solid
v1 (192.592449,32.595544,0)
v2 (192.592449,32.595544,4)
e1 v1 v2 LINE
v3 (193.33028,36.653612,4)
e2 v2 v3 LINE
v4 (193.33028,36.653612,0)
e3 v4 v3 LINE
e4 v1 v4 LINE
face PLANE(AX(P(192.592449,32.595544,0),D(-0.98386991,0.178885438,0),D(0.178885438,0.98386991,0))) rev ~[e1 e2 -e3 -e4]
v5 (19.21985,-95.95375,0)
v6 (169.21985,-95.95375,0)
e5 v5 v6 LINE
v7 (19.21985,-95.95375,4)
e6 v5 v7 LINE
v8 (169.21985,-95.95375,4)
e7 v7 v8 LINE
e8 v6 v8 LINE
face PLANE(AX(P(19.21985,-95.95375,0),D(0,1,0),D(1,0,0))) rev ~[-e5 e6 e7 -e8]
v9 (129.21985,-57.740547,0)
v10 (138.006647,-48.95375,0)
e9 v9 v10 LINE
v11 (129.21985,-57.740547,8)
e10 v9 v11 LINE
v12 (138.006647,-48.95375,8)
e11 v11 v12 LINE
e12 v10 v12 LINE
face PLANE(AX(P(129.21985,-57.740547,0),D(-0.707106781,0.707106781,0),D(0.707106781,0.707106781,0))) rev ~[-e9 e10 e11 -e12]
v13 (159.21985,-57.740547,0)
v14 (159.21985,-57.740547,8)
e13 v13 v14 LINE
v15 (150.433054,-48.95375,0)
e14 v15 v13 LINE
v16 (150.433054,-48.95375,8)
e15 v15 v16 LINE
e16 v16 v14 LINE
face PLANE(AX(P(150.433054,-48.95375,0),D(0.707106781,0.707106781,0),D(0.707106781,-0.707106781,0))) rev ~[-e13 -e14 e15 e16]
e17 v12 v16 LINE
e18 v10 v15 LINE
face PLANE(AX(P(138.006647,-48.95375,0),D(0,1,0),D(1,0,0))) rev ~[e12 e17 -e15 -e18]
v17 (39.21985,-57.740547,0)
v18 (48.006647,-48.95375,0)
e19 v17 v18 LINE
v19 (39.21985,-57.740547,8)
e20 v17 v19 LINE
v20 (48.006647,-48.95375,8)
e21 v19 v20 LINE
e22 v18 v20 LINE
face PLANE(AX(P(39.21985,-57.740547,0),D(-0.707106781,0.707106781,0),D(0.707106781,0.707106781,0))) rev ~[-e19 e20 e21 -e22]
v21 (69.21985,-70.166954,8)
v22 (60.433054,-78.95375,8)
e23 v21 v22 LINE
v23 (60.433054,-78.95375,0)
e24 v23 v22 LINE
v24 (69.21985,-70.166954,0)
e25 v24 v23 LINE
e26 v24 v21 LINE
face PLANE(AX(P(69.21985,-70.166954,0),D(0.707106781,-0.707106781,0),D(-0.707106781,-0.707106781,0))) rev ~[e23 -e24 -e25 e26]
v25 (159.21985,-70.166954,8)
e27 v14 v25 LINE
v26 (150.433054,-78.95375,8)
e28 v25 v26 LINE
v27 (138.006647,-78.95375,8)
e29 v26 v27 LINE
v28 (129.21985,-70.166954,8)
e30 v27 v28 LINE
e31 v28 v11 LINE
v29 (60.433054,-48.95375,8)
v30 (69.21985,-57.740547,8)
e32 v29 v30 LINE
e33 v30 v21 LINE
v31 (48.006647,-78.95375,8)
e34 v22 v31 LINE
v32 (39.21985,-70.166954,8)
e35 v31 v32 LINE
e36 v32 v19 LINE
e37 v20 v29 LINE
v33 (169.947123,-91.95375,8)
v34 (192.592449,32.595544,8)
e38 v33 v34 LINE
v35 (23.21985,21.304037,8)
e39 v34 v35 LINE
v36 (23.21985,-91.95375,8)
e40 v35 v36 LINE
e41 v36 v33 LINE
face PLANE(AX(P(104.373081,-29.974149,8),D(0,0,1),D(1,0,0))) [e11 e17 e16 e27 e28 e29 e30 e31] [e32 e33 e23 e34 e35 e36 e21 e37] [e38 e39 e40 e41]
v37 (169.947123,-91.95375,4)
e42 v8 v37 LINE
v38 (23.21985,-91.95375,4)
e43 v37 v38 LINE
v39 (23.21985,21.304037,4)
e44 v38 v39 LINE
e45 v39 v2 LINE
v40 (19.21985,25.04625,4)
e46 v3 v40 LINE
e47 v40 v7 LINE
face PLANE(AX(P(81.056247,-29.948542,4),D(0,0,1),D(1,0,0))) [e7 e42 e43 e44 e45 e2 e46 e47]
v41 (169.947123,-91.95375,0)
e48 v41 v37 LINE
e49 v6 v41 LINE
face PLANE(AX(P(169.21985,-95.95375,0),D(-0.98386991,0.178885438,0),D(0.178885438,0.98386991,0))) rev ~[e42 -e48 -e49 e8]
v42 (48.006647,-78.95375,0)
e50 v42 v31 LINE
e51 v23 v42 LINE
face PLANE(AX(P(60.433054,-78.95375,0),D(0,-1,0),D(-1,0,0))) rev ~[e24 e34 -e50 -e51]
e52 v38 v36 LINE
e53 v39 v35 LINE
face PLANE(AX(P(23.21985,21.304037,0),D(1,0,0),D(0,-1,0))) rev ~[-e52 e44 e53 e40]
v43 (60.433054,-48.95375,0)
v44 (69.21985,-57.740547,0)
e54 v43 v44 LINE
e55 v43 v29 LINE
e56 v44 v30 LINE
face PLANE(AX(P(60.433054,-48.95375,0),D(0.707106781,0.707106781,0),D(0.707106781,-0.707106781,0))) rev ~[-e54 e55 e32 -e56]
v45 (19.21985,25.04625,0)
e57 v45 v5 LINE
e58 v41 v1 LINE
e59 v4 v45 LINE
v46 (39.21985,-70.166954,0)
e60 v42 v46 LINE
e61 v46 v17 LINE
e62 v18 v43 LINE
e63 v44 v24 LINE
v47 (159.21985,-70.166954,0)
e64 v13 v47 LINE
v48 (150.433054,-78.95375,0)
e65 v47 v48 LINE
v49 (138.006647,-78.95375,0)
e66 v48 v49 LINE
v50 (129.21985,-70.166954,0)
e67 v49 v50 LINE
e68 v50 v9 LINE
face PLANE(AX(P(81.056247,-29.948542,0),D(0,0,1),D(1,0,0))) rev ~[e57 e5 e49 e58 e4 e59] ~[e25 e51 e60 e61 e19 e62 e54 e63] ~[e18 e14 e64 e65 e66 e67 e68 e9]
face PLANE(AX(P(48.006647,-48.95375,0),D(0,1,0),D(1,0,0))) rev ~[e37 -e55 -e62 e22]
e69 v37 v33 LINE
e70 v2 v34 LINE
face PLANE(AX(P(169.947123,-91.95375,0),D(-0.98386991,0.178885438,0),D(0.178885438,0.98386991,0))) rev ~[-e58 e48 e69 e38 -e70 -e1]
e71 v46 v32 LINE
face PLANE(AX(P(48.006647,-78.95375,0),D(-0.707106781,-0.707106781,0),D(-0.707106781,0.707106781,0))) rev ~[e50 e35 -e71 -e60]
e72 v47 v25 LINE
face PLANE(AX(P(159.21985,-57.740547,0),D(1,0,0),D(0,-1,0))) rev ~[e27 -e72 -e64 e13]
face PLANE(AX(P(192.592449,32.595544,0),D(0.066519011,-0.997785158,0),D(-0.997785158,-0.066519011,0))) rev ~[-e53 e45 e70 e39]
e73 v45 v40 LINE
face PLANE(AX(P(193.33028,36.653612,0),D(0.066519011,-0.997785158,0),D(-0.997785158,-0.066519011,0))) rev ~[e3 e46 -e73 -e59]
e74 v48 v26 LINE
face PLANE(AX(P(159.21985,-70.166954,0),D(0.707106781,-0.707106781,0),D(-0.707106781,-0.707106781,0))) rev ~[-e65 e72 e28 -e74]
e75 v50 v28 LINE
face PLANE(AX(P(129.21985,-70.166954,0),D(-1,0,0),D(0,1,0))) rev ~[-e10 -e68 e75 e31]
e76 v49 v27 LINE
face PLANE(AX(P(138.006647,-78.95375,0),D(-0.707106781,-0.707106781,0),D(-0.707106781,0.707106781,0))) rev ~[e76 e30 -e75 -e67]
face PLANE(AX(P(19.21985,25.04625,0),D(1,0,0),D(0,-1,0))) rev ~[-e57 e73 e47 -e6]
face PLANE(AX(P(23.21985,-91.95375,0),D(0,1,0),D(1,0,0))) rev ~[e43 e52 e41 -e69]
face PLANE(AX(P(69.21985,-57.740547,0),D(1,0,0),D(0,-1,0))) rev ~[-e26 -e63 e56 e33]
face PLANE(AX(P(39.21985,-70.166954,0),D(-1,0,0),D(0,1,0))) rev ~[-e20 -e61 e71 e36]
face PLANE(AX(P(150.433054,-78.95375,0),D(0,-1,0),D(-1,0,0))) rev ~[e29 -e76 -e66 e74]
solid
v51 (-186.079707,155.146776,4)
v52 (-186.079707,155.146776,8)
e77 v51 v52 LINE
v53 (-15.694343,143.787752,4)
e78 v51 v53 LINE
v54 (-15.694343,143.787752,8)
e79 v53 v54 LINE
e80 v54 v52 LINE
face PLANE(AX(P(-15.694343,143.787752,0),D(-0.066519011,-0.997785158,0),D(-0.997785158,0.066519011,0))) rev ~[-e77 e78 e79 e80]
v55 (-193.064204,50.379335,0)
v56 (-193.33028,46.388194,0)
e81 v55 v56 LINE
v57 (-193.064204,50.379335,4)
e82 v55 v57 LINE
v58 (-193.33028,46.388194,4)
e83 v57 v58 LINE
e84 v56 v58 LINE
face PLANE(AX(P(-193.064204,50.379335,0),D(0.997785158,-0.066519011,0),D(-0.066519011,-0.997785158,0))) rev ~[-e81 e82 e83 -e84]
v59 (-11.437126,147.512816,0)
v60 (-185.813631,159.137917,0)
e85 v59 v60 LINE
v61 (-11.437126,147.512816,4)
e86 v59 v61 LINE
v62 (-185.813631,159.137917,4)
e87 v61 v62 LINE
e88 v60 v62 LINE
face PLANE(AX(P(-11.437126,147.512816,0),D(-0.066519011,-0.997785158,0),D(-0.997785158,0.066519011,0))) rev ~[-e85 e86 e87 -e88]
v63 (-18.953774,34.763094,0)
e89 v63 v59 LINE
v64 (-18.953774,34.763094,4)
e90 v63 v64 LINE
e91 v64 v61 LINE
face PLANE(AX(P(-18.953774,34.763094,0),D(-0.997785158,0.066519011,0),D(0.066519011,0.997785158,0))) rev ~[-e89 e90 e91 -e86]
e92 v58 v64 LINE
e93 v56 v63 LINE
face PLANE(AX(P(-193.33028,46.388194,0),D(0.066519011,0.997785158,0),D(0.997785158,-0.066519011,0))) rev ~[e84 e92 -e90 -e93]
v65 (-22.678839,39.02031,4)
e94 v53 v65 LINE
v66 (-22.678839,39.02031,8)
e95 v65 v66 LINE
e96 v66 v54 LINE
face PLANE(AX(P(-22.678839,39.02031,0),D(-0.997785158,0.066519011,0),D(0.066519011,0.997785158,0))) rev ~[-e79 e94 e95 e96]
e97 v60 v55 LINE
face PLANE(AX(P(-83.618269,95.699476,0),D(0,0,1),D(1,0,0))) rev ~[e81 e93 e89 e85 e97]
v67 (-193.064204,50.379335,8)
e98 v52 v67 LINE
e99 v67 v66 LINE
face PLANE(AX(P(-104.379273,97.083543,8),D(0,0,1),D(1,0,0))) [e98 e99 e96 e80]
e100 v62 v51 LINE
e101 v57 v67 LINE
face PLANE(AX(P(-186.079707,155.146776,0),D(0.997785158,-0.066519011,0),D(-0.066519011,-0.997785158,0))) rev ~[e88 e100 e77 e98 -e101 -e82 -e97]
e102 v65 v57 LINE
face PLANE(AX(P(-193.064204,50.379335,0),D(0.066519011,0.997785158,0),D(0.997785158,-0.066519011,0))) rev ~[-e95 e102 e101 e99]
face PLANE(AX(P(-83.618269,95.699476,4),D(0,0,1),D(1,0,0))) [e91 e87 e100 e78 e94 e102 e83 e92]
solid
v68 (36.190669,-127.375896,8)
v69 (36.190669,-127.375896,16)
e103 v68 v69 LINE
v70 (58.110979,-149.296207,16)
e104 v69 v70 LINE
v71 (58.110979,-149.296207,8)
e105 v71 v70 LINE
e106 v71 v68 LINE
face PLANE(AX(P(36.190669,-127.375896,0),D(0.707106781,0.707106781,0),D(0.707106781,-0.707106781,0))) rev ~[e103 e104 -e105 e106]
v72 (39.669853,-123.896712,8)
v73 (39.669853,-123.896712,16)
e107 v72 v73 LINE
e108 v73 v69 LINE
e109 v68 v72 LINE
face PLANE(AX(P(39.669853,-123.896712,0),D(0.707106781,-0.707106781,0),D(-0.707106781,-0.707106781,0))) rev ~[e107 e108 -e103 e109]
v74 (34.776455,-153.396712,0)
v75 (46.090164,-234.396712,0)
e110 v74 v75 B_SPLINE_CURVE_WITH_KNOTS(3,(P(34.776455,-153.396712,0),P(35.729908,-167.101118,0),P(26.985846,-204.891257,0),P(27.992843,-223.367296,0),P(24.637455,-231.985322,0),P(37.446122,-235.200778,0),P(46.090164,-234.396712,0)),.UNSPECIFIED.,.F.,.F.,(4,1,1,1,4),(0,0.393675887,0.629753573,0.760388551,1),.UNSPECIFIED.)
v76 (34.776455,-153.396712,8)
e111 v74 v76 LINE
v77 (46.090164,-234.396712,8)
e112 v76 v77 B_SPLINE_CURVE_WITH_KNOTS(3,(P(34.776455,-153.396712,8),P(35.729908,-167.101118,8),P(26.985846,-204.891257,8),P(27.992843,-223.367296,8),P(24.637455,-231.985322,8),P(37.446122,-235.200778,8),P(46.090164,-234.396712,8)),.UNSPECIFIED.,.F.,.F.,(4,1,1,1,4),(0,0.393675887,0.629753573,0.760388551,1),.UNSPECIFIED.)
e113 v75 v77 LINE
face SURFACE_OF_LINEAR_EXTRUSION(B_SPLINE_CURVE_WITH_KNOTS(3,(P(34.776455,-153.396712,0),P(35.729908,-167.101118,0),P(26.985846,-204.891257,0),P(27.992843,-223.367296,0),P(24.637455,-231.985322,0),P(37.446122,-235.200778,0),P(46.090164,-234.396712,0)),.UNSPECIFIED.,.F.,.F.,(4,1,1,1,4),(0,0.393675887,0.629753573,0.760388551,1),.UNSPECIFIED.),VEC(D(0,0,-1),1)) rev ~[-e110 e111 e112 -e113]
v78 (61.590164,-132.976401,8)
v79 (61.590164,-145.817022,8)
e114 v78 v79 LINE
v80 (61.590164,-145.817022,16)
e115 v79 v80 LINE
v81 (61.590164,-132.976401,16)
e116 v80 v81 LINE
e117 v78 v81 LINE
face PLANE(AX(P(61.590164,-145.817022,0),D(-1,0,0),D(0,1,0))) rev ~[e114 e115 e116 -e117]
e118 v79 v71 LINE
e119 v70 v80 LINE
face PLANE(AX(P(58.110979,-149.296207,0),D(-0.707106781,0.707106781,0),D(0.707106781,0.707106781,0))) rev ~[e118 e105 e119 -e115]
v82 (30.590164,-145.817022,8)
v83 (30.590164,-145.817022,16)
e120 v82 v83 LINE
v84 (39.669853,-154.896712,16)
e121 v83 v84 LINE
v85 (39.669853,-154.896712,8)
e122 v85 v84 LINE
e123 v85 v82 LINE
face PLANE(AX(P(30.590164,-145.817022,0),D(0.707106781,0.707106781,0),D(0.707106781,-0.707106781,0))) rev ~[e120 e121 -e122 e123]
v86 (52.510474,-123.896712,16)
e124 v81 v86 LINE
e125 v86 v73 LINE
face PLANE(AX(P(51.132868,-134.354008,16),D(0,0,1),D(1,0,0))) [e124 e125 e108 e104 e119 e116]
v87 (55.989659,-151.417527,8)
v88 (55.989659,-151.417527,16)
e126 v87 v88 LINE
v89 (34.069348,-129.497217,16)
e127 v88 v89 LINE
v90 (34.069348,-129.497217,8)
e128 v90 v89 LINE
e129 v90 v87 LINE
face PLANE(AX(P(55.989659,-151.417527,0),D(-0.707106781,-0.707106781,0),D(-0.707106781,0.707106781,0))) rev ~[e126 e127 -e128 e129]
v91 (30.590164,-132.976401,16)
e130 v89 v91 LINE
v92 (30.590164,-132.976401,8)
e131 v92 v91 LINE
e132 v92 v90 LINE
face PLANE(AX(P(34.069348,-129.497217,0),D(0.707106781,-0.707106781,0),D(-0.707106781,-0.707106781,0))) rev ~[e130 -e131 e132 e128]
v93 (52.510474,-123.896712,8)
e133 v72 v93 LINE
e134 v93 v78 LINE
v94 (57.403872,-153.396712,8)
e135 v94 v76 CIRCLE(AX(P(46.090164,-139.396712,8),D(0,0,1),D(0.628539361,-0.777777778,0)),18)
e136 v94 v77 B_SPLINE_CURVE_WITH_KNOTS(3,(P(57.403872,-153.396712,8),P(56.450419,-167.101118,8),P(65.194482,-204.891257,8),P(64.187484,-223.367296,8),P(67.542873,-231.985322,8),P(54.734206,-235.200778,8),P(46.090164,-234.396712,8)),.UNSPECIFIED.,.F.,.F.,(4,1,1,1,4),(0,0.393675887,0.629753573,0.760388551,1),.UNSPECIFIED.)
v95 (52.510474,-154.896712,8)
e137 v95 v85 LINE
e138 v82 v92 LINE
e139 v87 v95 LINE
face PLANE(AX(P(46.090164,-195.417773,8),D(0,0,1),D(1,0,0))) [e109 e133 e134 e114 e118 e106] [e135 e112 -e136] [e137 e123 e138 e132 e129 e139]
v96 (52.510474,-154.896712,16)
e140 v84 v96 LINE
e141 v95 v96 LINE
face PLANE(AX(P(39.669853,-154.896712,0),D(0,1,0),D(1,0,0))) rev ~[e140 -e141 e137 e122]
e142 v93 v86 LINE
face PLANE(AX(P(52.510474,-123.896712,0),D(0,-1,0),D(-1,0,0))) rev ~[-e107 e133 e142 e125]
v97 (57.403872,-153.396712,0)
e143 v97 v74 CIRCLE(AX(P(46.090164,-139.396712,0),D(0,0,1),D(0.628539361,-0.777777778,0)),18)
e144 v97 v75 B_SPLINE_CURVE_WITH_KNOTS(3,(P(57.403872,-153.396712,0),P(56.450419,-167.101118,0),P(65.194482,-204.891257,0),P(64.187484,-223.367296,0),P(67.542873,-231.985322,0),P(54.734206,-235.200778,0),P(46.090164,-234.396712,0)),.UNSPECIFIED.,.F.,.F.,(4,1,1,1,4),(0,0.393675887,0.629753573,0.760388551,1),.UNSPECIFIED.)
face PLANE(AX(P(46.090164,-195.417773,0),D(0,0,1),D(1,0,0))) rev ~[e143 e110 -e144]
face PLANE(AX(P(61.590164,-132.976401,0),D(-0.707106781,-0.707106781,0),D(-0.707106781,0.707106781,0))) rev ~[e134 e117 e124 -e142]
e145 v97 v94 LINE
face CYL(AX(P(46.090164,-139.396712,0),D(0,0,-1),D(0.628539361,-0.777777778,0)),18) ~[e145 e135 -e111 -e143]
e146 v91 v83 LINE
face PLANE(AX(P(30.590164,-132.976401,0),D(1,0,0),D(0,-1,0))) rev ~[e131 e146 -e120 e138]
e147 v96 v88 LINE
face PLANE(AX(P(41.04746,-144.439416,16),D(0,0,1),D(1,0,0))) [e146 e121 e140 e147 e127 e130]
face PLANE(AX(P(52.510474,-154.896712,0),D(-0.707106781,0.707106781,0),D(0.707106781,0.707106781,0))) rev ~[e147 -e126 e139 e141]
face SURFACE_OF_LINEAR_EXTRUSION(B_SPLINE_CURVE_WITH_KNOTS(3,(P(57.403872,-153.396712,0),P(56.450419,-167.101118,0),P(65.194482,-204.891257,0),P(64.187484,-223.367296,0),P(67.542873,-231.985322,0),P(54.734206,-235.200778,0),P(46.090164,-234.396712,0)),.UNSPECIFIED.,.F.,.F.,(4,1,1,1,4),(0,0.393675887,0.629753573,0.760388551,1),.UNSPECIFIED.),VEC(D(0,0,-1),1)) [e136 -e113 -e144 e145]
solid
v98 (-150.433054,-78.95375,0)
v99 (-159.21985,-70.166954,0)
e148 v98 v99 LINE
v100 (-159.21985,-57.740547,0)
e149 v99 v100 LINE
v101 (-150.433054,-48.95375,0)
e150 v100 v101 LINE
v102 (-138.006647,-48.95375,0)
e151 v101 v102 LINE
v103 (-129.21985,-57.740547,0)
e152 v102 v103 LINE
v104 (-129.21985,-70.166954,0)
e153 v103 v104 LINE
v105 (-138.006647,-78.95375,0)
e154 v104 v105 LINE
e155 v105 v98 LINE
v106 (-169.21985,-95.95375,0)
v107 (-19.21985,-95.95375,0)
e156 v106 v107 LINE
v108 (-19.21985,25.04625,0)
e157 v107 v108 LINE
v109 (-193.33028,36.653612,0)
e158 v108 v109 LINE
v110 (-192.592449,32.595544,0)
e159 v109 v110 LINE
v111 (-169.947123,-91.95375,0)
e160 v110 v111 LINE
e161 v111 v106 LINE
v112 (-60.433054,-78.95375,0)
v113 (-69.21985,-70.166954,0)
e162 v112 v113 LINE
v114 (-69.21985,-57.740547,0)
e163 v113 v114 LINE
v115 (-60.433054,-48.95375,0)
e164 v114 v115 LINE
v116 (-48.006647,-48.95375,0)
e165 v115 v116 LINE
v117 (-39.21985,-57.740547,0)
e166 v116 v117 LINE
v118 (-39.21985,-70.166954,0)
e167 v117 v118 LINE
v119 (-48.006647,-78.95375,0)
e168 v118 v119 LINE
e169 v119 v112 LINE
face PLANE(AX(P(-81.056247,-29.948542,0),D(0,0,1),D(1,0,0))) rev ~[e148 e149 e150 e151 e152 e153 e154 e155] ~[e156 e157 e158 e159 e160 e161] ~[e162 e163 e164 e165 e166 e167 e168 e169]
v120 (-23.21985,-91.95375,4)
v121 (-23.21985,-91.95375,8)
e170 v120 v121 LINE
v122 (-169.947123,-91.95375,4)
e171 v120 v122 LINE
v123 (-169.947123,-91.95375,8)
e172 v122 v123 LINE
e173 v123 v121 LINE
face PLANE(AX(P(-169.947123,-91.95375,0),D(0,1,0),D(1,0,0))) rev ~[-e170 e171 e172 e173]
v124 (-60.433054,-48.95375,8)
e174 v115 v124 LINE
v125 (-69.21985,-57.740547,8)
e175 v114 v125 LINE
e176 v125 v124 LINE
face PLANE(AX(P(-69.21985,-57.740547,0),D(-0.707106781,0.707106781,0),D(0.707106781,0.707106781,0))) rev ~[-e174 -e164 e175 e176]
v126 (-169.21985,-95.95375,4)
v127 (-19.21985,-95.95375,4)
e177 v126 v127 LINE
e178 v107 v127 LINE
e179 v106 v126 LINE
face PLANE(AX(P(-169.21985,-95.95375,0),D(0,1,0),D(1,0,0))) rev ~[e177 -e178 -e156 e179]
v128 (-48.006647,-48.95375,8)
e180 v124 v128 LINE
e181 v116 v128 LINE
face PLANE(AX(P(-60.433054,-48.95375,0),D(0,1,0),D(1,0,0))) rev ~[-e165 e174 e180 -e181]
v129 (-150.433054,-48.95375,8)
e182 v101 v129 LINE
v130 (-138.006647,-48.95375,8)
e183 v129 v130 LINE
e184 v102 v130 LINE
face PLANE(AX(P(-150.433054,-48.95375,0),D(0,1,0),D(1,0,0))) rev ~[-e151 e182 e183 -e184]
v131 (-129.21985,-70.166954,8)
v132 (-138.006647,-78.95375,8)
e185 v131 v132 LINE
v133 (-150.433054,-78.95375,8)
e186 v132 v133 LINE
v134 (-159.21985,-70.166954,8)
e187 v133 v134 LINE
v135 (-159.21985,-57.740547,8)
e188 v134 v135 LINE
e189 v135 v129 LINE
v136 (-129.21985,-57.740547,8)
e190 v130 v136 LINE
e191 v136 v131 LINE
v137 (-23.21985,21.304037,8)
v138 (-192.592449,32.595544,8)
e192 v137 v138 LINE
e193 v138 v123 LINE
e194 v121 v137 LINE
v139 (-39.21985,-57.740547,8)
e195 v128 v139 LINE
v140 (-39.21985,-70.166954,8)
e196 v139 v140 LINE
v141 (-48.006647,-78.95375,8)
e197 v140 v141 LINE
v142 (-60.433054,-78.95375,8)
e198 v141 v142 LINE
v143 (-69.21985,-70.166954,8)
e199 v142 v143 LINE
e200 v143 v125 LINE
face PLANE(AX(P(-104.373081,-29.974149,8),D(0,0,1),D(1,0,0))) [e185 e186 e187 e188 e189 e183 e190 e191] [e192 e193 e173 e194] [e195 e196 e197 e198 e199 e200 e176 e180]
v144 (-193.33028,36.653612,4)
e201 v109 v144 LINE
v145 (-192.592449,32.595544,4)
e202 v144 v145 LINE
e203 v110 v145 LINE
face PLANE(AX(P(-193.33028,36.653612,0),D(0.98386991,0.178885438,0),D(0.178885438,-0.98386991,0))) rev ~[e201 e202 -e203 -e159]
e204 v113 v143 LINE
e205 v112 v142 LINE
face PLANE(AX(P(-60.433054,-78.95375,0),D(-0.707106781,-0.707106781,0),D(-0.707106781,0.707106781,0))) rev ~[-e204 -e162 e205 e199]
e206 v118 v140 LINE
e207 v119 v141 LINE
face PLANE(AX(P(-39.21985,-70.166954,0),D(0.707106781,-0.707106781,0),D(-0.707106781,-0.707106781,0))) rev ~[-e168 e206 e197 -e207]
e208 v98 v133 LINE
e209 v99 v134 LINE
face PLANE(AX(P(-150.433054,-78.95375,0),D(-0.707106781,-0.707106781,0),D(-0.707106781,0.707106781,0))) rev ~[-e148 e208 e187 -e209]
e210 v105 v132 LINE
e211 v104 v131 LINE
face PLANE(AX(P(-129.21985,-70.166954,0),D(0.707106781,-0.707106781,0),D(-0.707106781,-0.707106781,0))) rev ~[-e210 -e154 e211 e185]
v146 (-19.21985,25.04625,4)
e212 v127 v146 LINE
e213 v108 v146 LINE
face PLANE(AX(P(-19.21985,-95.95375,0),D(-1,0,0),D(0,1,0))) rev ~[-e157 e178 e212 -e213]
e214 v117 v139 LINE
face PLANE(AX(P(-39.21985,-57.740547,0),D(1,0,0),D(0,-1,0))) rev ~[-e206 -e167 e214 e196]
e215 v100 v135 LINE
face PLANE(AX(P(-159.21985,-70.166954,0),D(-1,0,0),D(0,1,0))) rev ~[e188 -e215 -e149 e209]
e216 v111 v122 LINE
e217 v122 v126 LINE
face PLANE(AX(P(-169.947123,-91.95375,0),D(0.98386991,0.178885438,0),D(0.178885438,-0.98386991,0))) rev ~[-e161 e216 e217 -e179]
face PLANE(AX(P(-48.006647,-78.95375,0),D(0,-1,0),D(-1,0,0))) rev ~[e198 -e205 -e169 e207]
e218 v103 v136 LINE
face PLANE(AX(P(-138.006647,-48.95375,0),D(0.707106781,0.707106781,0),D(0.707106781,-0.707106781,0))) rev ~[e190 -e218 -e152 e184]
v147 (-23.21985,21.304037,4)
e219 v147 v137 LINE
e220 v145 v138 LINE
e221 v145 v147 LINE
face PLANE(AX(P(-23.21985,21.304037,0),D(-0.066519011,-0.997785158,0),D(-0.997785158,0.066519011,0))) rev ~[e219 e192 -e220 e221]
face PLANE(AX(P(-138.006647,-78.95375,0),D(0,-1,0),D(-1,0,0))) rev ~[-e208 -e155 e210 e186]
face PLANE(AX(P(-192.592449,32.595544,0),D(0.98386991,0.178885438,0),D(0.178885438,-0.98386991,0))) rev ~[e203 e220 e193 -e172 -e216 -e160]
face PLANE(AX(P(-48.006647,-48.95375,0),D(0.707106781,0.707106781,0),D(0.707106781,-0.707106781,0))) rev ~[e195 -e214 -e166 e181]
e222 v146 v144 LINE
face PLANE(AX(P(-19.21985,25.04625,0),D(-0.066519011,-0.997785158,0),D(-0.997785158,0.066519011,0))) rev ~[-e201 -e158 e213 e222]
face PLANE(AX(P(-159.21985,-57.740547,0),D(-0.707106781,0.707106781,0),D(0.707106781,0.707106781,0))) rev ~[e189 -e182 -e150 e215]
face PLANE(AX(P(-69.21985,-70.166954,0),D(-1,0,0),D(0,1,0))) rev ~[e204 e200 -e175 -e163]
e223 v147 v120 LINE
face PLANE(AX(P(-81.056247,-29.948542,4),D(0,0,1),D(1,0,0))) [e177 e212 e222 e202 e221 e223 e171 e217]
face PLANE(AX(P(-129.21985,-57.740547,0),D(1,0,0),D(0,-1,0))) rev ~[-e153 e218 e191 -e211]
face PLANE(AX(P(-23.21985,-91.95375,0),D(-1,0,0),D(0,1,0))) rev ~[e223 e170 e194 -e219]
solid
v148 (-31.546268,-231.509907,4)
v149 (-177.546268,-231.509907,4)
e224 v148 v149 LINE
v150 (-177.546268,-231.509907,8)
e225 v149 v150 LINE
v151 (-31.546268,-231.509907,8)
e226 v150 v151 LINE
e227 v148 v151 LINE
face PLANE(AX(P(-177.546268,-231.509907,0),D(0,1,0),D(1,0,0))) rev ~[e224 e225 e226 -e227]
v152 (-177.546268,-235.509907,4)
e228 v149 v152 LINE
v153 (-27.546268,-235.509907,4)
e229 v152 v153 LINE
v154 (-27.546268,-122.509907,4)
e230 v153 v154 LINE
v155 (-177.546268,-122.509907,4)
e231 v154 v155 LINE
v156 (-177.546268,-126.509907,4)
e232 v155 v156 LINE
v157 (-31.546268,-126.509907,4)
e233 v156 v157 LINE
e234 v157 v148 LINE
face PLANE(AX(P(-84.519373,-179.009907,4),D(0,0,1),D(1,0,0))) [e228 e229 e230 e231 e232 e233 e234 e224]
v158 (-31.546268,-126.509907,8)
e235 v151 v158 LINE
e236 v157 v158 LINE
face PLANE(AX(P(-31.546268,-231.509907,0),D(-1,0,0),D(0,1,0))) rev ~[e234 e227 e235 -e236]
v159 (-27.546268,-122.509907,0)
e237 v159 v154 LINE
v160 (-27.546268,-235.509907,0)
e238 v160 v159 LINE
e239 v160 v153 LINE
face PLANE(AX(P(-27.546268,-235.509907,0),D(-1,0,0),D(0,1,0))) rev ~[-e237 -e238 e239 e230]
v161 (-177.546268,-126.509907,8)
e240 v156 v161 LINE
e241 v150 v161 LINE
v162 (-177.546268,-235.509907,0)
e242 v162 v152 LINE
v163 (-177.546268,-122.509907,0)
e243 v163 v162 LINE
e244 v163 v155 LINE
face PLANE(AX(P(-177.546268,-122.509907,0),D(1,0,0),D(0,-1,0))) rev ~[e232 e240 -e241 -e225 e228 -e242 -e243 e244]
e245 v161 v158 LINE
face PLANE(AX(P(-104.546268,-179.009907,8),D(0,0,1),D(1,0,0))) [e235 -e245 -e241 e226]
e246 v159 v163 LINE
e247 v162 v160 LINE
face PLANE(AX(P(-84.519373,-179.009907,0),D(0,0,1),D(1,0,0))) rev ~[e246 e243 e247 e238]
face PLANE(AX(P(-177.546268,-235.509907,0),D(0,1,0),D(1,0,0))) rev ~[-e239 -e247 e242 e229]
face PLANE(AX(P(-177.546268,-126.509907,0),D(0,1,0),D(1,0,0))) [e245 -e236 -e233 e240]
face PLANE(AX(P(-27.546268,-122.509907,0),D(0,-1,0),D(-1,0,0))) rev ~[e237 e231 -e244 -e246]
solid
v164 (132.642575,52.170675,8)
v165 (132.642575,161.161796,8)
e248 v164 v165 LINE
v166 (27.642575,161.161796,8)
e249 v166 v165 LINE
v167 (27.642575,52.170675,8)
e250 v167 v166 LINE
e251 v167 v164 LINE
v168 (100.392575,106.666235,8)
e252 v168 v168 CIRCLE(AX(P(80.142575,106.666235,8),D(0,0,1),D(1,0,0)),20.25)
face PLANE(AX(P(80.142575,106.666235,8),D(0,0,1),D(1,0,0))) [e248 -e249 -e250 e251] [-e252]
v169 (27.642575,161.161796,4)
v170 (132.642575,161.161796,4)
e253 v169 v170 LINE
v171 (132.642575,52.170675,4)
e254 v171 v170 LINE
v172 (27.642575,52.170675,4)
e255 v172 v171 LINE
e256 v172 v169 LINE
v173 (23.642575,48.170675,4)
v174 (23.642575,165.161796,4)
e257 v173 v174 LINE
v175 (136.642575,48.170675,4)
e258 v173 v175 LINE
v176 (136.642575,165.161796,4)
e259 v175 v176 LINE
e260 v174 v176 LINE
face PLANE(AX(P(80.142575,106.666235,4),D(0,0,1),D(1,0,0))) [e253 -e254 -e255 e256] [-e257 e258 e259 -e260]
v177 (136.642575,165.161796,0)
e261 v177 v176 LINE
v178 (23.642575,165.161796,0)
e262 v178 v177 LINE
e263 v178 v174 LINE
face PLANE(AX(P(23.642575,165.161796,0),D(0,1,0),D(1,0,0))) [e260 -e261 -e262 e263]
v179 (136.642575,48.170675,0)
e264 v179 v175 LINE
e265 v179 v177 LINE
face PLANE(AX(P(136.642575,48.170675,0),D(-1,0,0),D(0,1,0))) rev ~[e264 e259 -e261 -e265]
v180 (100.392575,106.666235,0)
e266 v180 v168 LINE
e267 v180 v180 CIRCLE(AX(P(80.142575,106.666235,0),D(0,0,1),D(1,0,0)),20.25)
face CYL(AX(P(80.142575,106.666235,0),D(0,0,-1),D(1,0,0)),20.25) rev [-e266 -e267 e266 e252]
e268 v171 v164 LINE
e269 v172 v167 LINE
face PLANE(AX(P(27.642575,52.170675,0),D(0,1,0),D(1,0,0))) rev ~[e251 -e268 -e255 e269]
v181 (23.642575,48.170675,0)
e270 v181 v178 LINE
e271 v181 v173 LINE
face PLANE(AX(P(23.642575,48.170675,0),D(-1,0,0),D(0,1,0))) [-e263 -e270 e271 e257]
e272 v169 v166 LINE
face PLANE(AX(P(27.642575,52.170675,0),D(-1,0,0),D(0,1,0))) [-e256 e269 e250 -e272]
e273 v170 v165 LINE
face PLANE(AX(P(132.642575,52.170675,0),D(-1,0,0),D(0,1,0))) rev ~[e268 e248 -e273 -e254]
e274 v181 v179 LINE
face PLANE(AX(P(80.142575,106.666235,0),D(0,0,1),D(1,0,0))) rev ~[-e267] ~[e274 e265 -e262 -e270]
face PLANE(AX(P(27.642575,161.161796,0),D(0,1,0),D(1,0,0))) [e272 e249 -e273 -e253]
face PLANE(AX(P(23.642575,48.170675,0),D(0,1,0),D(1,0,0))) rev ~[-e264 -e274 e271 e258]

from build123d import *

# Parameters (mm, degrees)
F6_DEPTH  = 8
F7_DEPTH  = 4
F8_DEPTH  = 8
F9_DEPTH  = 4
F10_DEPTH = 8
F11_DEPTH = 4
F2_W      = 146
F2_H      = 105
F12_DEPTH = 8
F13_DEPTH = 4
F4_W      = 105
F4_H      = 108.9911209658
F4_R      = 20.25
F14_DEPTH = 8
F4_W_2    = 113
F4_H_2    = 116.9911209658
F15_DEPTH = 4
F16_DEPTH = 16
F17_DEPTH = 8


with BuildPart() as f6:
    # F1 (on Top) → F6 (new body)
    with BuildSketch(Plane.XY):
        Polygon((-192.5924490942, 32.5955437856), (-169.9471228707, -91.9537504436), (-23.2198501434, -91.9537504436), (-23.2198501434, 21.3040371889), align=None)
        Polygon((-138.0066467078, -48.9537504436), (-129.2198501434, -57.740547008), (-129.2198501434, -70.1669538792), (-138.0066467078, -78.9537504436), (-150.433053579, -78.9537504436), (-159.2198501434, -70.1669538792), (-159.2198501434, -57.740547008), (-150.433053579, -48.9537504436), align=None, mode=Mode.SUBTRACT)
        Polygon((-48.0066467078, -78.9537504436), (-60.433053579, -78.9537504436), (-69.2198501434, -70.1669538792), (-69.2198501434, -57.740547008), (-60.433053579, -48.9537504436), (-48.0066467078, -48.9537504436), (-39.2198501434, -57.740547008), (-39.2198501434, -70.1669538792), align=None, mode=Mode.SUBTRACT)
    extrude(amount=F6_DEPTH)

    # F1 (on Top) → F7 (join)
    with BuildSketch(Plane.XY):
        Polygon((-169.2198501434, -95.9537504436), (-19.2198501434, -95.9537504436), (-19.2198501434, 25.0462495564), (-193.3302795913, 36.6536115196), (-192.5924490942, 32.5955437856), (-23.2198501434, 21.3040371889), (-23.2198501434, -91.9537504436), (-169.9471228707, -91.9537504436), align=None)
    extrude(amount=F7_DEPTH)


with BuildPart() as f8:
    # F1 (on Top) → F8 (new body)
    with BuildSketch(Plane.XY):
        Polygon((23.2198501434, 21.3040371889), (23.2198501434, -91.9537504436), (169.9471228707, -91.9537504436), (192.5924490942, 32.5955437856), align=None)
        Polygon((48.0066467078, -48.9537504436), (60.433053579, -48.9537504436), (69.2198501434, -57.740547008), (69.2198501434, -70.1669538792), (60.433053579, -78.9537504436), (48.0066467078, -78.9537504436), (39.2198501434, -70.1669538792), (39.2198501434, -57.740547008), align=None, mode=Mode.SUBTRACT)
        Polygon((138.0066467078, -48.9537504436), (150.433053579, -48.9537504436), (159.2198501434, -57.740547008), (159.2198501434, -70.1669538792), (150.433053579, -78.9537504436), (138.0066467078, -78.9537504436), (129.2198501434, -70.1669538792), (129.2198501434, -57.740547008), align=None, mode=Mode.SUBTRACT)
    extrude(amount=F8_DEPTH)

    # F1 (on Top) → F9 (join)
    with BuildSketch(Plane.XY):
        Polygon((169.9471228707, -91.9537504436), (23.2198501434, -91.9537504436), (23.2198501434, 21.3040371889), (192.5924490942, 32.5955437856), (193.3302795913, 36.6536115196), (19.2198501434, 25.0462495564), (19.2198501434, -95.9537504436), (169.2198501434, -95.9537504436), align=None)
    extrude(amount=F9_DEPTH)


with BuildPart() as f10:
    # F3 (on Top) → F10 (new body)
    with BuildSketch(Plane.XY):
        Polygon((-186.0797074442, 155.1467761713), (-193.0642035492, 50.3793345964), (-22.6788386906, 39.0203102725), (-15.6943425856, 143.7877518474), align=None)
    extrude(amount=F10_DEPTH)

    # F3 (on Top) → F11 (join)
    with BuildSketch(Plane.XY):
        Polygon((-193.0642035492, 50.3793345964), (-193.3302795913, 46.388193965), (-18.9537741013, 34.763093599), (-11.4371259121, 147.5128164368), (-185.8136314021, 159.1379168028), (-186.0797074442, 155.1467761713), (-15.6943425856, 143.7877518474), (-22.6788386906, 39.0203102725), align=None)
    extrude(amount=F11_DEPTH)


with BuildPart() as f12:
    # F2 (on Top) → F12 (new body)
    with BuildSketch(Plane.XY):
        with Locations((-104.5462678192, -179.0099069476)):
            Rectangle(F2_W, F2_H)
    extrude(amount=F12_DEPTH)

    # F2 (on Top) → F13 (join)
    with BuildSketch(Plane.XY):
        Polygon((-27.5462678192, -122.5099069476), (-177.5462678192, -122.5099069476), (-177.5462678192, -126.5099069476), (-31.5462678192, -126.5099069476), (-31.5462678192, -231.5099069476), (-177.5462678192, -231.5099069476), (-177.5462678192, -235.5099069476), (-27.5462678192, -235.5099069476), align=None)
    extrude(amount=F13_DEPTH)


with BuildPart() as f14:
    # F4 (on Top) → F14 (new body)
    with BuildSketch(Plane.XY):
        with Locations((80.142575264, 106.6662354313)):
            Rectangle(F4_W, F4_H)
        with Locations((80.142575264, 106.6662354313)):
            Circle(F4_R, mode=Mode.SUBTRACT)
    extrude(amount=F14_DEPTH)

    # F4 (on Top) → F15 (join)
    with BuildSketch(Plane.XY):
        with Locations((80.142575264, 106.6662354313)):
            Rectangle(F4_W_2, F4_H_2)
        with Locations((80.142575264, 106.6662354313)):
            Rectangle(F4_W, F4_H, mode=Mode.SUBTRACT)
    extrude(amount=F15_DEPTH)


with BuildPart() as f16:
    # F5 (on Top) → F16 (new body)
    with BuildSketch(Plane.XY):
        Polygon((55.9896586491, -151.4175269914), (34.0693484323, -129.4972167746), (30.5901637125, -132.9764014945), (30.5901637125, -145.817021928), (39.6698534957, -154.8967117112), (52.5104739292, -154.8967117112), align=None)
    extrude(amount=F16_DEPTH)



with BuildPart() as f16b:
    # F5 (on Top) → F16, piece 2 (new body)
    with BuildSketch(Plane.XY):
        Polygon((61.5901637125, -132.9764014945), (52.5104739292, -123.8967117112), (39.6698534957, -123.8967117112), (36.1906687759, -127.3758964311), (58.1109789926, -149.2962066479), (61.5901637125, -145.817021928), align=None)
    extrude(amount=F16_DEPTH)


with BuildPart() as f16_1:
    add(f16.part)

    add(f16b.part)  # F17 merges F16b
    # F5 (on Top) → F17 (join)
    with BuildSketch(Plane.XY):
        with BuildLine():
            ThreePointArc((57.4038722114, -153.3967117112), (46.0901637125, -157.3967117112), (34.7764552135, -153.3967117112))
            add(Edge.make_bspline(
                [(34.7764552135, -153.3967117112), (35.7299080503, -167.101117647), (26.9858458268, -204.8912572591), (27.9928429906, -223.3672958501), (24.6374547092, -231.9853224777), (37.4461217021, -235.2007776701), (46.0901637125, -234.3967117112)],
                knots=[0, 0, 0, 0, 0.3936758869, 0.6297535731, 0.7603885514, 1, 1, 1, 1], degree=3))
            add(Edge.make_bspline(
                [(57.4038722114, -153.3967117112), (56.4504193746, -167.101117647), (65.1944815981, -204.8912572591), (64.1874844343, -223.3672958501), (67.5428727157, -231.9853224777), (54.7342057228, -235.2007776701), (46.0901637125, -234.3967117112)],
                knots=[0, 0, 0, 0, 0.3936758869, 0.6297535731, 0.7603885514, 1, 1, 1, 1], degree=3))
        make_face()
        with BuildLine():
            ThreePointArc((57.4038722114, -153.3967117112), (62.3328043996, -147.1540710241), (64.0901637125, -139.3967117112))
            ThreePointArc((64.0901637125, -139.3967117112), (38.3328043996, -123.1540710241), (34.7764552135, -153.3967117112))
            ThreePointArc((34.7764552135, -153.3967117112), (46.0901637125, -157.3967117112), (57.4038722114, -153.3967117112))
        make_face()
        Polygon((39.6698534957, -123.8967117112), (52.5104739292, -123.8967117112), (61.5901637125, -132.9764014945), (61.5901637125, -145.817021928), (58.1109789926, -149.2962066479), (55.9896586491, -151.4175269914), (52.5104739292, -154.8967117112), (39.6698534957, -154.8967117112), (30.5901637125, -145.817021928), (30.5901637125, -132.9764014945), (34.0693484323, -129.4972167746), (36.1906687759, -127.3758964311), align=None, mode=Mode.SUBTRACT)
        Polygon((58.1109789926, -149.2962066479), (36.1906687759, -127.3758964311), (34.0693484323, -129.4972167746), (55.9896586491, -151.4175269914), align=None)
    extrude(amount=F17_DEPTH)


solid = Compound([f6.part, f8.part, f10.part, f12.part, f14.part, f16_1.part])
